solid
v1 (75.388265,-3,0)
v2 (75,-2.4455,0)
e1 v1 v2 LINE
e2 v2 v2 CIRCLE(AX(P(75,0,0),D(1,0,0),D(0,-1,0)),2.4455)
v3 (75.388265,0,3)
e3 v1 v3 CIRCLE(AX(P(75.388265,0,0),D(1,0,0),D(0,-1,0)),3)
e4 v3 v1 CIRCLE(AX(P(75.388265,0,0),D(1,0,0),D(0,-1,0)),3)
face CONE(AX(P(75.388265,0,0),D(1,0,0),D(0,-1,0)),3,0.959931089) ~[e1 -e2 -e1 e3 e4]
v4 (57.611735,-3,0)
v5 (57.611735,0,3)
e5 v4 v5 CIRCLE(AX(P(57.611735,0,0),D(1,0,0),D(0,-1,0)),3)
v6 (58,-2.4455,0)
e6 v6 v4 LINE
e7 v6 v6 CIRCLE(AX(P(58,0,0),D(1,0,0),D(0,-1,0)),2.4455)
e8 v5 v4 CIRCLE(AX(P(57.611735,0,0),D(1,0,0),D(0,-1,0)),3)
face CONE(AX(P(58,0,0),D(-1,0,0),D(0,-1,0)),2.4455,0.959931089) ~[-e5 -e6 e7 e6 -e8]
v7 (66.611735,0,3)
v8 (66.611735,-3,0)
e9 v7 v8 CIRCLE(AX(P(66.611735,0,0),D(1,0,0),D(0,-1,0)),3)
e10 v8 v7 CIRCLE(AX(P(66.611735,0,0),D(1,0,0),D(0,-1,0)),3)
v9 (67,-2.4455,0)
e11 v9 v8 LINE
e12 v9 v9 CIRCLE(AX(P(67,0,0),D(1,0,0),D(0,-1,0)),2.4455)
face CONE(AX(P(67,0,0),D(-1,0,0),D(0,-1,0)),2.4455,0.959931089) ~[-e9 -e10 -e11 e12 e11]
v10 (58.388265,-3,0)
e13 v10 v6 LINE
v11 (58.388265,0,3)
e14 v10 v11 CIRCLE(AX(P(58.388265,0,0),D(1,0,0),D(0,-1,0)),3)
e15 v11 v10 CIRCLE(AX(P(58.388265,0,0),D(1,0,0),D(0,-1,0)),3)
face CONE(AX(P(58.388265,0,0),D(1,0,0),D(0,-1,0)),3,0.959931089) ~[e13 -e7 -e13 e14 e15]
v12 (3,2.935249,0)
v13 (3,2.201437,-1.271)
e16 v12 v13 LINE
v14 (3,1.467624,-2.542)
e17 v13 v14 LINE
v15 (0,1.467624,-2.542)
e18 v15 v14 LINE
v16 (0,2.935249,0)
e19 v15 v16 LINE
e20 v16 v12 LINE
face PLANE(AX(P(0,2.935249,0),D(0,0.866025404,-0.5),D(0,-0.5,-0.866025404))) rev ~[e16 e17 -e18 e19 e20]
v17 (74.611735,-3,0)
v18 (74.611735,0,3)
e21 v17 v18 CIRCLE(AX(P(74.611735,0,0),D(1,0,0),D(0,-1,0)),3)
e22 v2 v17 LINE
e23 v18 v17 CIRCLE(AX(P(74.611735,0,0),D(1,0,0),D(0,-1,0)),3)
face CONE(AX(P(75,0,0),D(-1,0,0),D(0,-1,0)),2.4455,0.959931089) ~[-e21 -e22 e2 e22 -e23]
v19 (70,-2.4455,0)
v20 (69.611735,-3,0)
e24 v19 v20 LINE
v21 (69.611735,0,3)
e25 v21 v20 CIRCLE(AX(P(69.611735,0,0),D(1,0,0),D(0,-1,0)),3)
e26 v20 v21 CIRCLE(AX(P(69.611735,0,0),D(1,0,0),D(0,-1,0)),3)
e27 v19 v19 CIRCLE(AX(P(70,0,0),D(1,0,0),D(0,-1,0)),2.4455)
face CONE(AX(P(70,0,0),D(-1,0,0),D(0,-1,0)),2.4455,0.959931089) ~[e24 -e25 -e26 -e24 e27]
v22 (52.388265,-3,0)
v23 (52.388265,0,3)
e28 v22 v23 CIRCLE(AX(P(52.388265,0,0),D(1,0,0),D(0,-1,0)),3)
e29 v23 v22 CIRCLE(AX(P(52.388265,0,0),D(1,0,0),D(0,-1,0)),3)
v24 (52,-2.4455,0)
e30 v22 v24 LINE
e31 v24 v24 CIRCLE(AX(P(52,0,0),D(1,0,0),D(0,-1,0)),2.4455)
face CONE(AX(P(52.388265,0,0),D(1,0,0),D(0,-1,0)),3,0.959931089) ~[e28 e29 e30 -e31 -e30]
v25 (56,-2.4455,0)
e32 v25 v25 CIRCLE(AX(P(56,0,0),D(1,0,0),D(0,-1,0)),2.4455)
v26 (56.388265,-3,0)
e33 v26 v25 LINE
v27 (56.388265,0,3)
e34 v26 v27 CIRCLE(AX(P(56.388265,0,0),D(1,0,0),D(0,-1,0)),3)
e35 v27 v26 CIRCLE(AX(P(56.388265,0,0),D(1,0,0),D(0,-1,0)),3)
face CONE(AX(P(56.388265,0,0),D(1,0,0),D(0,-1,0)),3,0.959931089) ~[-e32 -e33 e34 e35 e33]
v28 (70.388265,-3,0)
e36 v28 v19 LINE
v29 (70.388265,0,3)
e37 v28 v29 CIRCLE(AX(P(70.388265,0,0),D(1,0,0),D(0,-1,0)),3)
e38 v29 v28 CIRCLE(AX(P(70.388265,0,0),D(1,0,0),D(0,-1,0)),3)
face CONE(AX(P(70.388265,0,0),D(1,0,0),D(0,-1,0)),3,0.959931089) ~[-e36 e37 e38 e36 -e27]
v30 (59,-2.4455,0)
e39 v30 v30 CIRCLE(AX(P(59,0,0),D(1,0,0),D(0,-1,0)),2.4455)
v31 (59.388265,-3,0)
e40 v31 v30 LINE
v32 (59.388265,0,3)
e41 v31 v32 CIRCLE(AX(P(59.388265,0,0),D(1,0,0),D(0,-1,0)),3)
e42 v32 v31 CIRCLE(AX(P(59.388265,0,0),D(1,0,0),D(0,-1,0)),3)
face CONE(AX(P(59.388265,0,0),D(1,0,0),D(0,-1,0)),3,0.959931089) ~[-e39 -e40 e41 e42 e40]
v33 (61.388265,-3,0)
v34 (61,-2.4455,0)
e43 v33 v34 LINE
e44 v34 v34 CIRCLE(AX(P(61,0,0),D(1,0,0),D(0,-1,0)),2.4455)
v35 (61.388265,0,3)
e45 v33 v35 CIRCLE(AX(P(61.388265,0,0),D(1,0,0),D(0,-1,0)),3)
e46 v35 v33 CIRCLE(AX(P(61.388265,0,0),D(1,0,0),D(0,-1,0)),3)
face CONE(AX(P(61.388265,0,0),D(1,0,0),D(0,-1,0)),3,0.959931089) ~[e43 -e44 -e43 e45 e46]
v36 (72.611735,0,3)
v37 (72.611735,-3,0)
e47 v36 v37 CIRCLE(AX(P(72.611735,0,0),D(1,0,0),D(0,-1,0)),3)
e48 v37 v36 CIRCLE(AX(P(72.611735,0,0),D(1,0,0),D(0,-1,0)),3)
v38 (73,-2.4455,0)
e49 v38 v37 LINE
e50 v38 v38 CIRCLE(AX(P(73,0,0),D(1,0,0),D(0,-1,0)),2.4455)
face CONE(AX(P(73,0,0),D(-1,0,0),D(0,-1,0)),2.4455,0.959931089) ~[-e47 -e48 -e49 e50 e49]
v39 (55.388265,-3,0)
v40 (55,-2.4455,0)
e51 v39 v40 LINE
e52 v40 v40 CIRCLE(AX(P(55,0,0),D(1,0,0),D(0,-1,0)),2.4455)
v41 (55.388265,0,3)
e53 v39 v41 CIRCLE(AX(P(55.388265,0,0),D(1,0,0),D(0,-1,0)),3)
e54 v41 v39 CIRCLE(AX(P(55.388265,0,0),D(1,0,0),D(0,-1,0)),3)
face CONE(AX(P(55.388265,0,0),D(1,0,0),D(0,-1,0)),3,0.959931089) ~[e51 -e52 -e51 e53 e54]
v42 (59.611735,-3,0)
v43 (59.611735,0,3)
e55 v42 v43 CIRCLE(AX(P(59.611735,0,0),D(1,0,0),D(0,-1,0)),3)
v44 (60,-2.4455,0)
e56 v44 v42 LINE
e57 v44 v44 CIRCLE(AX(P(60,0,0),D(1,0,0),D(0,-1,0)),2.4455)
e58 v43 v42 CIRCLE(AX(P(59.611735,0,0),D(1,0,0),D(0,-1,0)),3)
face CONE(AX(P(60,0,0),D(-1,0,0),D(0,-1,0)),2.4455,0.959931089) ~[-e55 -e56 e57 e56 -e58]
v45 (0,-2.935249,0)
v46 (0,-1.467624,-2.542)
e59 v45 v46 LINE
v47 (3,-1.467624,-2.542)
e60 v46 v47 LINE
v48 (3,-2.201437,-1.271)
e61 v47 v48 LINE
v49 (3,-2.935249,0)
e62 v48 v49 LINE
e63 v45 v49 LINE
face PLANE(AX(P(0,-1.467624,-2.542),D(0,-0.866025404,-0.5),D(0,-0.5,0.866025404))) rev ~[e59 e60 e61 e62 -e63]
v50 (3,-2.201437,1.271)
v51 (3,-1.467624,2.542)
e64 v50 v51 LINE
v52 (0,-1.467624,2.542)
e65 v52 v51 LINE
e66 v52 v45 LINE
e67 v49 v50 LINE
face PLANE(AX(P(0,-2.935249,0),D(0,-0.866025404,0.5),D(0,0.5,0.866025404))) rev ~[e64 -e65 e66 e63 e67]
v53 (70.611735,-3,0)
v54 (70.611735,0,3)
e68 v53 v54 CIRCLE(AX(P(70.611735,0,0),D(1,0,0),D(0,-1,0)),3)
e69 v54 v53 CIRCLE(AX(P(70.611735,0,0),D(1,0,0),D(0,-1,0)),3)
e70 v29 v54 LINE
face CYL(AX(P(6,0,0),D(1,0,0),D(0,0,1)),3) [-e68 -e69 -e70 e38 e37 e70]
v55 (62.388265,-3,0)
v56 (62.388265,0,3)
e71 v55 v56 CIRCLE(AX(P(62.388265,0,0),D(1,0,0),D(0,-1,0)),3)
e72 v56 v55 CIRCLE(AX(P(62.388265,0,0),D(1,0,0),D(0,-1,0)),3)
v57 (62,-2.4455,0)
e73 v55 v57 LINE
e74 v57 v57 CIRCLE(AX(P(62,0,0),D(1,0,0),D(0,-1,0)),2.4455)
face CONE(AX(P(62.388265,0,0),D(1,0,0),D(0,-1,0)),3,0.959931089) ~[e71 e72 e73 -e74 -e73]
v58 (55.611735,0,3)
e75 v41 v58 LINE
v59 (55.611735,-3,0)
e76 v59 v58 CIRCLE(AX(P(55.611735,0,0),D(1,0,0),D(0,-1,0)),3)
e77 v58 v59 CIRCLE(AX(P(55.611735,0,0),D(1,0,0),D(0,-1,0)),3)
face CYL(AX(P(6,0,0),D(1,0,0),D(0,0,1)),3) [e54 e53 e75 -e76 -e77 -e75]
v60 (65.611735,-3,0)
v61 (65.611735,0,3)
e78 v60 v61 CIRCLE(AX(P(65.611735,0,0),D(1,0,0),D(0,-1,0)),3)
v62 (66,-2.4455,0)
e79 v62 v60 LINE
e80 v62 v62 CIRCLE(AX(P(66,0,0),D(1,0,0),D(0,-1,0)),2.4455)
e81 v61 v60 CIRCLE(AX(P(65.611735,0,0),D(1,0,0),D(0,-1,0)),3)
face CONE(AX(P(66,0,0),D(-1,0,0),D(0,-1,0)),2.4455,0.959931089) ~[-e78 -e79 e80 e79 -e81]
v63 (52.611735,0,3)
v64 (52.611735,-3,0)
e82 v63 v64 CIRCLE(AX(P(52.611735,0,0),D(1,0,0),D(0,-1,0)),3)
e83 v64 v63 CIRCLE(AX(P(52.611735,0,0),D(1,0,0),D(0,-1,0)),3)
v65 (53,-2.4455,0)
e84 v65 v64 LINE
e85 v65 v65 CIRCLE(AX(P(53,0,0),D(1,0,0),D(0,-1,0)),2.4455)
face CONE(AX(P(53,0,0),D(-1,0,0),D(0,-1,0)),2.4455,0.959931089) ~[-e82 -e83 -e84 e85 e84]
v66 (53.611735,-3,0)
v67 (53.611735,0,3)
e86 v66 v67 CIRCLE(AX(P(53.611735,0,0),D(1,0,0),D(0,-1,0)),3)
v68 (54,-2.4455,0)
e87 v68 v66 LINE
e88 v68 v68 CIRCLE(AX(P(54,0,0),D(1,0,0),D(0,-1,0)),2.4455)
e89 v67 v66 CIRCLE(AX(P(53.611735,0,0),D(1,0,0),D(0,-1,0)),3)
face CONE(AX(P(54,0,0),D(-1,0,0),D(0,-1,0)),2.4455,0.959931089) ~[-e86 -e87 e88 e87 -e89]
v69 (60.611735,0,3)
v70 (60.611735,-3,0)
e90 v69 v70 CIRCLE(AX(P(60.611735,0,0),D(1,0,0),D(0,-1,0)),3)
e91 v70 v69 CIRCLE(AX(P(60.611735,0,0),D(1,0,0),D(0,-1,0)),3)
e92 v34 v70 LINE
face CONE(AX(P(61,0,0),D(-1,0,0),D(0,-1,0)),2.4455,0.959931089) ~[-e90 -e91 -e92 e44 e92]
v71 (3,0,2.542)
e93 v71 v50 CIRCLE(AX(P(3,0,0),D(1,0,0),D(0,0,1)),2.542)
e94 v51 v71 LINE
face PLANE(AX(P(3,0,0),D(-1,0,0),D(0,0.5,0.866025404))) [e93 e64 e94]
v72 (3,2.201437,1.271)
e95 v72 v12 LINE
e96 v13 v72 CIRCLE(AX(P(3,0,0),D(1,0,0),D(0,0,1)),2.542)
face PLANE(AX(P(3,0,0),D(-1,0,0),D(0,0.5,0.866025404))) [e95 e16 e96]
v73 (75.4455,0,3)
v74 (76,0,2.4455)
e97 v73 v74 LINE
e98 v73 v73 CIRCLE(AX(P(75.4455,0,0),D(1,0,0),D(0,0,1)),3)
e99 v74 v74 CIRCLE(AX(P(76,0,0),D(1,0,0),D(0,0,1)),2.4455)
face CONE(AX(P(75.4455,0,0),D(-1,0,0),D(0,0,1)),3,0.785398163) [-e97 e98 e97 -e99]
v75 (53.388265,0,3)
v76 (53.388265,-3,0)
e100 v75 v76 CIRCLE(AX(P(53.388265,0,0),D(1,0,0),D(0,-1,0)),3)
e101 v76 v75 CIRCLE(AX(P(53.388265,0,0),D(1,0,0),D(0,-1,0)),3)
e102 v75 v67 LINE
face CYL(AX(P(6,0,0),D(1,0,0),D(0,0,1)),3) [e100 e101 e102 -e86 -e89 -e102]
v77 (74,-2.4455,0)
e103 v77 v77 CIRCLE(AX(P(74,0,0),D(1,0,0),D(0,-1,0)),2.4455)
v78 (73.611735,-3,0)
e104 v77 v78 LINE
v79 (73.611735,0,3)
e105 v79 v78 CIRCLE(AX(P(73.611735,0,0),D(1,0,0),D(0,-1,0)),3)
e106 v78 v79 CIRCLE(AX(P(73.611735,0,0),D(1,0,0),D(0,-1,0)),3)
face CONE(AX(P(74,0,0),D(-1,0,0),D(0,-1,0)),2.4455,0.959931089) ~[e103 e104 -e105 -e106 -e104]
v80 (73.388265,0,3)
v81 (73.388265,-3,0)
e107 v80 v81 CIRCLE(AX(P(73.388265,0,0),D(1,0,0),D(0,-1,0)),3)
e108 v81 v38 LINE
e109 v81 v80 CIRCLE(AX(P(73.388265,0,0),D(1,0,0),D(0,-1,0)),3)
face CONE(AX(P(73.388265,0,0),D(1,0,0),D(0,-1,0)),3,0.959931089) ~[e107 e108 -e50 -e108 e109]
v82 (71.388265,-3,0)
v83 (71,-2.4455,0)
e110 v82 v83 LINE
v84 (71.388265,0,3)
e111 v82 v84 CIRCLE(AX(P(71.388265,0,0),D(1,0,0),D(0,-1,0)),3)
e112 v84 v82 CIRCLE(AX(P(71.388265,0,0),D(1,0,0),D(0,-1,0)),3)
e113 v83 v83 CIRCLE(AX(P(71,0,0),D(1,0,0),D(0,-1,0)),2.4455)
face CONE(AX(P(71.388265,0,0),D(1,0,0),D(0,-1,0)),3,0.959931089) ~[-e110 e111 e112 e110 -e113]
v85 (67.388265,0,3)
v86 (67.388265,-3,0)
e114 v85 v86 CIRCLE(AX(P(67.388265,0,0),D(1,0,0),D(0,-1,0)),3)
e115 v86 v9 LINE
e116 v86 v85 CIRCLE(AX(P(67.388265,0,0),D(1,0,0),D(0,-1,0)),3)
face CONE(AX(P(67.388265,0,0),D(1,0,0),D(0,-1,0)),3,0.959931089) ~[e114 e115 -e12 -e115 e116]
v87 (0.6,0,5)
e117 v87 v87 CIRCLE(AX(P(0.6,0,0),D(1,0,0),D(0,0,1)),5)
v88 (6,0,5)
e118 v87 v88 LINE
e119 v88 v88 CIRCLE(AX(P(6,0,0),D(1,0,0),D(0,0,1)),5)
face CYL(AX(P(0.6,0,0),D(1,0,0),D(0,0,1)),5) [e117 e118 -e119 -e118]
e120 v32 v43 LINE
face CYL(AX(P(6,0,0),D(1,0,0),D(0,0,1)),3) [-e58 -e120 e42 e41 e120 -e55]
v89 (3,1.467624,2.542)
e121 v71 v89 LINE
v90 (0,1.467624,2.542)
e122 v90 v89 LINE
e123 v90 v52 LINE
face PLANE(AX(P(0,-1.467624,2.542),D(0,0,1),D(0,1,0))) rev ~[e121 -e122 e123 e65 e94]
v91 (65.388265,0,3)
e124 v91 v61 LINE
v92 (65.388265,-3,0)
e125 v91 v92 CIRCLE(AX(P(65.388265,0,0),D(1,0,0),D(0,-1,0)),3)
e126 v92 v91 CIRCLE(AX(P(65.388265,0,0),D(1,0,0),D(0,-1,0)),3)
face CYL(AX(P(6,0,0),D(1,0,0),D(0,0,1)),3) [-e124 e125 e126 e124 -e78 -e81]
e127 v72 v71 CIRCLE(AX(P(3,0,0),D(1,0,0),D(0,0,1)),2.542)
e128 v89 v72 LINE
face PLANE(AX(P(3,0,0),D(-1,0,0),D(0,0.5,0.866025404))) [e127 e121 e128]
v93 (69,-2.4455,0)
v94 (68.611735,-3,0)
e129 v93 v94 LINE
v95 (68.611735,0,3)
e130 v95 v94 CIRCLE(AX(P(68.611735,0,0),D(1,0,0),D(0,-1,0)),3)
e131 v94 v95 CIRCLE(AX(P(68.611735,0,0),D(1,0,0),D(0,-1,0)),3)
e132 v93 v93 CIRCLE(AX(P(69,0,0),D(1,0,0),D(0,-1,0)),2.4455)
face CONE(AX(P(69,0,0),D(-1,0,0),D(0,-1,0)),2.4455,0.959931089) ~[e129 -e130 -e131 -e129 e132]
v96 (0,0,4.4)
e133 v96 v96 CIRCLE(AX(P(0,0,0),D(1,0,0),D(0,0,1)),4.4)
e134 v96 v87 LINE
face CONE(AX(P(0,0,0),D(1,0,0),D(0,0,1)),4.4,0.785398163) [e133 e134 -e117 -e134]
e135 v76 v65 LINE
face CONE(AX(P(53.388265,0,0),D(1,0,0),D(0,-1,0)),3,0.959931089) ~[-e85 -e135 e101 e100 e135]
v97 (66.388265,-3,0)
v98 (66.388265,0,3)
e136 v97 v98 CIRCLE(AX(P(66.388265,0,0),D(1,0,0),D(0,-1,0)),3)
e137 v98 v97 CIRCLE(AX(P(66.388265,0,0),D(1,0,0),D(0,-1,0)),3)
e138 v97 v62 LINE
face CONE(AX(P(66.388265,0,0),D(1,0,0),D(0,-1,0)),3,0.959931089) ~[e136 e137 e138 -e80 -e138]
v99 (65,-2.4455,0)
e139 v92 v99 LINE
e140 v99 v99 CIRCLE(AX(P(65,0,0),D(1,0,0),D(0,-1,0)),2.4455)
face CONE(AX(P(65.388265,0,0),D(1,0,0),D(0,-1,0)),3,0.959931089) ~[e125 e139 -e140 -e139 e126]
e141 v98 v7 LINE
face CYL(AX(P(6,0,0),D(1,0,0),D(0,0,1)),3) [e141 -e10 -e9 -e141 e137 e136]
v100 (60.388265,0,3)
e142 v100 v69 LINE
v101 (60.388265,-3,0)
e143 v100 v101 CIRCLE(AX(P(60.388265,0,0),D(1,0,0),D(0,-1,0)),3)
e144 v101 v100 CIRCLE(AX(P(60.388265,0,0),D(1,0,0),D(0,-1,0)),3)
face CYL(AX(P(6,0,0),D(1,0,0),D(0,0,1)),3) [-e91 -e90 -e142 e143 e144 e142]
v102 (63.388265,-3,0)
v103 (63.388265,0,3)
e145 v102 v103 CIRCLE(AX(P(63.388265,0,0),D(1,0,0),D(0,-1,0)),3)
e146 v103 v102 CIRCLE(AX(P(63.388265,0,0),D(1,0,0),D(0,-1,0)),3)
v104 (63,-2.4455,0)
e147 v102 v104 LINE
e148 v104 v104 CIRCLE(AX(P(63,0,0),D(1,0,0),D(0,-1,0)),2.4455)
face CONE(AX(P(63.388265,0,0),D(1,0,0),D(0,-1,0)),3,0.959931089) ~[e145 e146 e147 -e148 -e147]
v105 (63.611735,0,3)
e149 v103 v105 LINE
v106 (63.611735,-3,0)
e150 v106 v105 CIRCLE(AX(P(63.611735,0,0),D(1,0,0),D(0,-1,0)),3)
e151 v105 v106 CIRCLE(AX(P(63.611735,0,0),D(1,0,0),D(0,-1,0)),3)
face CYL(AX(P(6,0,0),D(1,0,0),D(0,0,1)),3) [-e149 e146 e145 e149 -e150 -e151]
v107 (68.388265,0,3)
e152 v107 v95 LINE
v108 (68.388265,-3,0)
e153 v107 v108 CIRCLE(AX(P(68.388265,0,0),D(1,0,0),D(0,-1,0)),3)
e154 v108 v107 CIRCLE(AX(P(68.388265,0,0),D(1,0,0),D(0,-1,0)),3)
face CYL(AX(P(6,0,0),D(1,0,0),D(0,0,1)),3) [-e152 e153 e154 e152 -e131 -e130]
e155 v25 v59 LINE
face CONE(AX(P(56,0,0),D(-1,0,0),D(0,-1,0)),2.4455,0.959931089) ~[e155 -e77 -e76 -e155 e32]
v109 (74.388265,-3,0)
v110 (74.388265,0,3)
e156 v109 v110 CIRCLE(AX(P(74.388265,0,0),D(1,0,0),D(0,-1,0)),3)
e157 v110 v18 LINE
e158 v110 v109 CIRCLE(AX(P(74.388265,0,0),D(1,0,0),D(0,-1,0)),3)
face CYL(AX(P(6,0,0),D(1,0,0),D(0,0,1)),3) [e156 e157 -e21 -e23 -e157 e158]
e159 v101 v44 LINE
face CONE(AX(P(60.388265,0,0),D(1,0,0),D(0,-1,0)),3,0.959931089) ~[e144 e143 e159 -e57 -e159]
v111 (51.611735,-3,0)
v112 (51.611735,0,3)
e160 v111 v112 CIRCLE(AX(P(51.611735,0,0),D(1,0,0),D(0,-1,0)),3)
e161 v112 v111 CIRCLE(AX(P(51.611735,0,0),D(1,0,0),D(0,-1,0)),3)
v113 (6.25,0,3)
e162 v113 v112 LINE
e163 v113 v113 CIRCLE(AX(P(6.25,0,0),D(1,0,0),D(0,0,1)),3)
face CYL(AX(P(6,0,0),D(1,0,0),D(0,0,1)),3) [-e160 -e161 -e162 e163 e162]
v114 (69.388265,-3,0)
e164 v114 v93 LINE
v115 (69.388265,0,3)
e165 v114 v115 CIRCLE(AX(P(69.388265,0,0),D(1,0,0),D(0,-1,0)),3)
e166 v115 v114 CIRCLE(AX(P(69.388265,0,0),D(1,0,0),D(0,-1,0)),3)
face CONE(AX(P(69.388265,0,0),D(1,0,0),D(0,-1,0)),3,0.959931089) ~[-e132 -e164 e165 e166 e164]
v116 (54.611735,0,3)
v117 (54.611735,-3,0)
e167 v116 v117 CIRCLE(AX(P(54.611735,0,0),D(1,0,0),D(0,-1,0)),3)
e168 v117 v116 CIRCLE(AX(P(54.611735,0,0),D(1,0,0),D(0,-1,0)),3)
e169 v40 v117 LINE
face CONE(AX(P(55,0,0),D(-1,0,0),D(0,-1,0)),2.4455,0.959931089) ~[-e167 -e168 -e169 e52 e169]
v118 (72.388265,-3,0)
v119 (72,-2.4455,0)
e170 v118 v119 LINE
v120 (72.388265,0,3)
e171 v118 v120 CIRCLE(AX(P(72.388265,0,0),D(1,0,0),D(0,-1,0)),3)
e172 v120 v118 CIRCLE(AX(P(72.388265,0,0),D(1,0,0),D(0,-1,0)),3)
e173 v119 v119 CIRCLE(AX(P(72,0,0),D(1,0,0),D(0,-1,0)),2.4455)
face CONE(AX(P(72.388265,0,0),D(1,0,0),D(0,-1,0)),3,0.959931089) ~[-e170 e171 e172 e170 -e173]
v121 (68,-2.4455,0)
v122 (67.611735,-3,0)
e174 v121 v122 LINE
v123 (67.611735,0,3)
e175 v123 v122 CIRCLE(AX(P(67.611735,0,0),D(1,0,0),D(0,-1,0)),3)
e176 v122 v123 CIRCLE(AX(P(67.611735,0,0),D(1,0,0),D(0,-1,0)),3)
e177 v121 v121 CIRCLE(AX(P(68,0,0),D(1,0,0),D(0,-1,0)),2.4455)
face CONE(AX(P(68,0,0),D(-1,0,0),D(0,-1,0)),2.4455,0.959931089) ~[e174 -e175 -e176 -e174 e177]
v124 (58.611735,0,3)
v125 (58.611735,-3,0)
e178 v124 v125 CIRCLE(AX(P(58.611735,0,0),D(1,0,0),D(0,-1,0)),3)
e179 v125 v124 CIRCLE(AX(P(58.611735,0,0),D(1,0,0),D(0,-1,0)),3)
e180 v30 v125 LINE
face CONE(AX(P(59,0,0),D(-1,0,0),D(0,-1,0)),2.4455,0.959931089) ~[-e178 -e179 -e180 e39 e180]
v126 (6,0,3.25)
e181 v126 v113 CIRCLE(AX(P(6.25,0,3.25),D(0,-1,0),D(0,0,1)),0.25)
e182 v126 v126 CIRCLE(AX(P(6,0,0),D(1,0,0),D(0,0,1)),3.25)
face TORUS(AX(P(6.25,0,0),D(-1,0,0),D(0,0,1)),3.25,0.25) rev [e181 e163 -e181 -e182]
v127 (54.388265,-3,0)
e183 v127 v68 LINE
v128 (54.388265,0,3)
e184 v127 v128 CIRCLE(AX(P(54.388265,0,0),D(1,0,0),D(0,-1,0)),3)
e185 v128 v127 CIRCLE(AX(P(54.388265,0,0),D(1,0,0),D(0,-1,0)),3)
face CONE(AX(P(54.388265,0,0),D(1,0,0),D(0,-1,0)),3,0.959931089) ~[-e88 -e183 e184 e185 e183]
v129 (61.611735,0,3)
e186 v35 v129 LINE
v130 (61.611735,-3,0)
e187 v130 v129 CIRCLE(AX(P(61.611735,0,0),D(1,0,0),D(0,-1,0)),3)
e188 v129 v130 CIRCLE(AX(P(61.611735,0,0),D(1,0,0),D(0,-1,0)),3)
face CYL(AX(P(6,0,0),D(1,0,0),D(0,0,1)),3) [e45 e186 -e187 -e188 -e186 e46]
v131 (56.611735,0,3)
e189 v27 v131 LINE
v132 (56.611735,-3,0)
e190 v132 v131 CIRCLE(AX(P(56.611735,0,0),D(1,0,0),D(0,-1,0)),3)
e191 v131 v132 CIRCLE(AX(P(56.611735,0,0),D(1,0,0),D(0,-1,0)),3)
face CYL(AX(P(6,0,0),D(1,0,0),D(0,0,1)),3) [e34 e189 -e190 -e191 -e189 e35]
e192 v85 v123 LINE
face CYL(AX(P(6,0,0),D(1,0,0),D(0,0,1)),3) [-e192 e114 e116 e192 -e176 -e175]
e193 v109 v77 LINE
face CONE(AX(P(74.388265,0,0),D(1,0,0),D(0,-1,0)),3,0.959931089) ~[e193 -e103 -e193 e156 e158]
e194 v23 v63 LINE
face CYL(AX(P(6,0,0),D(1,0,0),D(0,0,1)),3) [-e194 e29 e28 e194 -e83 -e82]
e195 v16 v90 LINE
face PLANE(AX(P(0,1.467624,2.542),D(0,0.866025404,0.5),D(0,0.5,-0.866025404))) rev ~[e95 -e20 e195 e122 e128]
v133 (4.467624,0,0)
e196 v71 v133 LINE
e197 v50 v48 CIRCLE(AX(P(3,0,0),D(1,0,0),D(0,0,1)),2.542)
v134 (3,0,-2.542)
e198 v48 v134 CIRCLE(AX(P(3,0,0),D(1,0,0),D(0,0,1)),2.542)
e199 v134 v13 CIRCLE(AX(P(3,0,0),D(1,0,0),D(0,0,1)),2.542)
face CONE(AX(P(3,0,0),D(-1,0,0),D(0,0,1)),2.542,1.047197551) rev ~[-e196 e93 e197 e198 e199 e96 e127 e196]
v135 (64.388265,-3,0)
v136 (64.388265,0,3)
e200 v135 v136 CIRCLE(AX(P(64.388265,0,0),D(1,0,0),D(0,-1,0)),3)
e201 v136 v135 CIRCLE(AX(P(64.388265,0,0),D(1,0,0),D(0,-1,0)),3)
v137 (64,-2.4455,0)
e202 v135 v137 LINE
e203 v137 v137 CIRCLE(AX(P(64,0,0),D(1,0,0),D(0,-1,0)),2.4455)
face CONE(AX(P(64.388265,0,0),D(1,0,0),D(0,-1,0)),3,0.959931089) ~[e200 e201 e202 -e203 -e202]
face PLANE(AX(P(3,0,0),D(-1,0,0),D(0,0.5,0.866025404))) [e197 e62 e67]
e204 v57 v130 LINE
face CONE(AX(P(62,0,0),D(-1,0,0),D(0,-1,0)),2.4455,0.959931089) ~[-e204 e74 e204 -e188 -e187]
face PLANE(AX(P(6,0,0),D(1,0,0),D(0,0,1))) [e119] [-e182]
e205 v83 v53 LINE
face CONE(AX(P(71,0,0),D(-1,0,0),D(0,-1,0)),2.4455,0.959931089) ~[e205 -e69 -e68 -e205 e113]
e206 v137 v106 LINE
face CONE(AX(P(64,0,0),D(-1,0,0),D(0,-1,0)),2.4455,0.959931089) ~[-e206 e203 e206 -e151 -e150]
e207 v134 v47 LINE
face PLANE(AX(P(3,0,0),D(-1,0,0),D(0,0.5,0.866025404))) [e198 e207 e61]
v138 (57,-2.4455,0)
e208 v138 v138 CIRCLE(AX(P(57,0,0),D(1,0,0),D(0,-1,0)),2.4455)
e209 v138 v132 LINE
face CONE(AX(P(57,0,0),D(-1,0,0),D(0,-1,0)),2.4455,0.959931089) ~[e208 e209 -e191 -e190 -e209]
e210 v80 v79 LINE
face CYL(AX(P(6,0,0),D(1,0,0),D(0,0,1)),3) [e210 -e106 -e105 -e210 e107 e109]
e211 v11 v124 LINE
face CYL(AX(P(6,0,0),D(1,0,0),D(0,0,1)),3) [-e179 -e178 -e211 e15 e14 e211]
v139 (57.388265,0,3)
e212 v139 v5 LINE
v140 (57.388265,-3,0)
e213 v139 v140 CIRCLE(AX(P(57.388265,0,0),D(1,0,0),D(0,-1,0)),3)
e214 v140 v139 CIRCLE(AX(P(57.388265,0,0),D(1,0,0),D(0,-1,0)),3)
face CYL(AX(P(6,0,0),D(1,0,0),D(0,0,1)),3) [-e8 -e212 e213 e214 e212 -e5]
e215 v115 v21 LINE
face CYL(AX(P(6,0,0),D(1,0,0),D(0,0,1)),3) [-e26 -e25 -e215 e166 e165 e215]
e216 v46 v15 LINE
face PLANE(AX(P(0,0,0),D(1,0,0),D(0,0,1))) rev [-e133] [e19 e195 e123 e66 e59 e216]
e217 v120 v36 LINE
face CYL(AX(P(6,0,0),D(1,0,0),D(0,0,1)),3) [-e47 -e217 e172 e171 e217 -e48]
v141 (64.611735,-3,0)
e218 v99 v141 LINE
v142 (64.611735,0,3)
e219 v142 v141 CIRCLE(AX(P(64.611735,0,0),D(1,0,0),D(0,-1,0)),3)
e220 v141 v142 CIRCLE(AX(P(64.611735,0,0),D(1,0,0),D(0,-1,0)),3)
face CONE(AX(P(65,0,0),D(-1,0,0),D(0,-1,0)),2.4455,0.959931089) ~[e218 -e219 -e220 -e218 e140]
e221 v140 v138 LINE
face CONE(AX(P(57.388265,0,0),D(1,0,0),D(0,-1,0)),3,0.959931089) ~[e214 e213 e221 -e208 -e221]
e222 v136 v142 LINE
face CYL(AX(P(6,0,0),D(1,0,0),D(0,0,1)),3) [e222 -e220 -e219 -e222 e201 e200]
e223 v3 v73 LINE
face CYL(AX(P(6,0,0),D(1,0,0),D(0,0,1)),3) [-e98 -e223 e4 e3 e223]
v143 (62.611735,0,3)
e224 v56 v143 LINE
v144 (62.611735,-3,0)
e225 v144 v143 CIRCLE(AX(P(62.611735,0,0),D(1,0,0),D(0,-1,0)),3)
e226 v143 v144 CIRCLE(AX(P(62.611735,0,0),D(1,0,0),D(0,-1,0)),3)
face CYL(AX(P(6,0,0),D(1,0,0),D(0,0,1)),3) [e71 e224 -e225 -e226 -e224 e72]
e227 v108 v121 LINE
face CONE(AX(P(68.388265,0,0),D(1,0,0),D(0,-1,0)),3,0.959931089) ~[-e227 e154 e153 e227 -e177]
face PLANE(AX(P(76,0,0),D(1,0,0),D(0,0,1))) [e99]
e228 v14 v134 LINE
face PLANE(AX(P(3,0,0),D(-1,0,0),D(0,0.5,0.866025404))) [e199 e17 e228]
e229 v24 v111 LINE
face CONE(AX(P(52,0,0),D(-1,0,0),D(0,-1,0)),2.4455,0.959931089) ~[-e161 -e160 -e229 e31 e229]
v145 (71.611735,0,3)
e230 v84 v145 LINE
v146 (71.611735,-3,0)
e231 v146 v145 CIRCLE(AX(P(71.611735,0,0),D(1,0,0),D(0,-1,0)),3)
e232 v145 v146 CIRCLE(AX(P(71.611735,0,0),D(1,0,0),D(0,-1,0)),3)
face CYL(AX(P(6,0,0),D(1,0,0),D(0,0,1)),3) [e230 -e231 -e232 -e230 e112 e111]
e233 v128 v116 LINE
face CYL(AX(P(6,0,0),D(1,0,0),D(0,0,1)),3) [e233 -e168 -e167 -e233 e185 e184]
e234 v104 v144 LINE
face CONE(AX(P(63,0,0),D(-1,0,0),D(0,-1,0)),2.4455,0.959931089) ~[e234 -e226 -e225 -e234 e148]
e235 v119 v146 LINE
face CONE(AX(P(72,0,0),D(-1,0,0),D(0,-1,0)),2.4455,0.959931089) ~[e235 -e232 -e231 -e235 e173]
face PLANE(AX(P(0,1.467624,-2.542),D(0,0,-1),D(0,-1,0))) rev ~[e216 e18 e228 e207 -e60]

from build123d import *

# Parameters (mm, degrees)
FILLET1_R       = 0.25
HEX_2_DEPTH     = 3
THDSCHPAT_COUNT = 24
THDSCHPAT_PITCH = 1


with BuildPart() as part:
    # BodySke → Base-Revolve (revolve)
    with BuildSketch(Plane.XY, mode=Mode.PRIVATE) as base_revolve_sk:
        Polygon((0, 0), (0, 4.4), (0.6, 5), (6, 5), (6, 3), (75.4455, 3), (76, 2.4455), (76, 0), align=None)
    revolve(base_revolve_sk.sketch.rotate(Axis((-31.75, 0, 0), (1, 0, 0)), 90), axis=Axis((-31.75, 0, 0), (1, 0, 0)))

    # Fillet1
    fillet1_edges = [part.edges().sort_by_distance(p)[0] for p in [
        (6, 0, -3),
    ]]
    fillet(fillet1_edges, radius=FILLET1_R)

    # Sketch2 → Hex-PreBroach (revolve, cut)
    with BuildSketch(Plane.XY, mode=Mode.PRIVATE) as hex_prebroach_sk:
        Polygon((0, 2.542), (3, 2.542), (4.467624384, 0), (0, 0), align=None)
    revolve(hex_prebroach_sk.sketch.rotate(Axis((0, 0, 0), (1, 0, 0)), 90), axis=Axis((0, 0, 0), (1, 0, 0)), mode=Mode.SUBTRACT)

    # Sketch3 → Hex 2 (cut)
    with BuildSketch(Plane(origin=(0, 0, 0), x_dir=(0, 0.500000000000001, 0.866025403784438), z_dir=(-1, 0, 0))):
        Polygon((1.467624384, 2.542), (-1.467624384, 2.542), (-2.935248769, 0), (-1.467624384, -2.542), (1.467624384, -2.542), (2.935248769, 0), align=None)
    extrude(amount=-HEX_2_DEPTH, mode=Mode.SUBTRACT)

    # ThdSchSke → ThreadSchematic (revolve, cut)
    with BuildSketch(Plane.XY):
        Polygon((52, -2.4455), (51.61173492, -3), (51.61173492, -3.75), (52.38826508, -3.75), (52.38826508, -3), align=None)
    threadschematic = revolve(axis=Axis((-3.175, 0, 0), (1, 0, 0)), mode=Mode.SUBTRACT)

    # ThdSchPat: ThreadSchematic ×24
    with Locations(*[(i * THDSCHPAT_PITCH, 0, 0) for i in range(1, THDSCHPAT_COUNT)]):
        add(threadschematic, mode=Mode.SUBTRACT)


solid = part.part
